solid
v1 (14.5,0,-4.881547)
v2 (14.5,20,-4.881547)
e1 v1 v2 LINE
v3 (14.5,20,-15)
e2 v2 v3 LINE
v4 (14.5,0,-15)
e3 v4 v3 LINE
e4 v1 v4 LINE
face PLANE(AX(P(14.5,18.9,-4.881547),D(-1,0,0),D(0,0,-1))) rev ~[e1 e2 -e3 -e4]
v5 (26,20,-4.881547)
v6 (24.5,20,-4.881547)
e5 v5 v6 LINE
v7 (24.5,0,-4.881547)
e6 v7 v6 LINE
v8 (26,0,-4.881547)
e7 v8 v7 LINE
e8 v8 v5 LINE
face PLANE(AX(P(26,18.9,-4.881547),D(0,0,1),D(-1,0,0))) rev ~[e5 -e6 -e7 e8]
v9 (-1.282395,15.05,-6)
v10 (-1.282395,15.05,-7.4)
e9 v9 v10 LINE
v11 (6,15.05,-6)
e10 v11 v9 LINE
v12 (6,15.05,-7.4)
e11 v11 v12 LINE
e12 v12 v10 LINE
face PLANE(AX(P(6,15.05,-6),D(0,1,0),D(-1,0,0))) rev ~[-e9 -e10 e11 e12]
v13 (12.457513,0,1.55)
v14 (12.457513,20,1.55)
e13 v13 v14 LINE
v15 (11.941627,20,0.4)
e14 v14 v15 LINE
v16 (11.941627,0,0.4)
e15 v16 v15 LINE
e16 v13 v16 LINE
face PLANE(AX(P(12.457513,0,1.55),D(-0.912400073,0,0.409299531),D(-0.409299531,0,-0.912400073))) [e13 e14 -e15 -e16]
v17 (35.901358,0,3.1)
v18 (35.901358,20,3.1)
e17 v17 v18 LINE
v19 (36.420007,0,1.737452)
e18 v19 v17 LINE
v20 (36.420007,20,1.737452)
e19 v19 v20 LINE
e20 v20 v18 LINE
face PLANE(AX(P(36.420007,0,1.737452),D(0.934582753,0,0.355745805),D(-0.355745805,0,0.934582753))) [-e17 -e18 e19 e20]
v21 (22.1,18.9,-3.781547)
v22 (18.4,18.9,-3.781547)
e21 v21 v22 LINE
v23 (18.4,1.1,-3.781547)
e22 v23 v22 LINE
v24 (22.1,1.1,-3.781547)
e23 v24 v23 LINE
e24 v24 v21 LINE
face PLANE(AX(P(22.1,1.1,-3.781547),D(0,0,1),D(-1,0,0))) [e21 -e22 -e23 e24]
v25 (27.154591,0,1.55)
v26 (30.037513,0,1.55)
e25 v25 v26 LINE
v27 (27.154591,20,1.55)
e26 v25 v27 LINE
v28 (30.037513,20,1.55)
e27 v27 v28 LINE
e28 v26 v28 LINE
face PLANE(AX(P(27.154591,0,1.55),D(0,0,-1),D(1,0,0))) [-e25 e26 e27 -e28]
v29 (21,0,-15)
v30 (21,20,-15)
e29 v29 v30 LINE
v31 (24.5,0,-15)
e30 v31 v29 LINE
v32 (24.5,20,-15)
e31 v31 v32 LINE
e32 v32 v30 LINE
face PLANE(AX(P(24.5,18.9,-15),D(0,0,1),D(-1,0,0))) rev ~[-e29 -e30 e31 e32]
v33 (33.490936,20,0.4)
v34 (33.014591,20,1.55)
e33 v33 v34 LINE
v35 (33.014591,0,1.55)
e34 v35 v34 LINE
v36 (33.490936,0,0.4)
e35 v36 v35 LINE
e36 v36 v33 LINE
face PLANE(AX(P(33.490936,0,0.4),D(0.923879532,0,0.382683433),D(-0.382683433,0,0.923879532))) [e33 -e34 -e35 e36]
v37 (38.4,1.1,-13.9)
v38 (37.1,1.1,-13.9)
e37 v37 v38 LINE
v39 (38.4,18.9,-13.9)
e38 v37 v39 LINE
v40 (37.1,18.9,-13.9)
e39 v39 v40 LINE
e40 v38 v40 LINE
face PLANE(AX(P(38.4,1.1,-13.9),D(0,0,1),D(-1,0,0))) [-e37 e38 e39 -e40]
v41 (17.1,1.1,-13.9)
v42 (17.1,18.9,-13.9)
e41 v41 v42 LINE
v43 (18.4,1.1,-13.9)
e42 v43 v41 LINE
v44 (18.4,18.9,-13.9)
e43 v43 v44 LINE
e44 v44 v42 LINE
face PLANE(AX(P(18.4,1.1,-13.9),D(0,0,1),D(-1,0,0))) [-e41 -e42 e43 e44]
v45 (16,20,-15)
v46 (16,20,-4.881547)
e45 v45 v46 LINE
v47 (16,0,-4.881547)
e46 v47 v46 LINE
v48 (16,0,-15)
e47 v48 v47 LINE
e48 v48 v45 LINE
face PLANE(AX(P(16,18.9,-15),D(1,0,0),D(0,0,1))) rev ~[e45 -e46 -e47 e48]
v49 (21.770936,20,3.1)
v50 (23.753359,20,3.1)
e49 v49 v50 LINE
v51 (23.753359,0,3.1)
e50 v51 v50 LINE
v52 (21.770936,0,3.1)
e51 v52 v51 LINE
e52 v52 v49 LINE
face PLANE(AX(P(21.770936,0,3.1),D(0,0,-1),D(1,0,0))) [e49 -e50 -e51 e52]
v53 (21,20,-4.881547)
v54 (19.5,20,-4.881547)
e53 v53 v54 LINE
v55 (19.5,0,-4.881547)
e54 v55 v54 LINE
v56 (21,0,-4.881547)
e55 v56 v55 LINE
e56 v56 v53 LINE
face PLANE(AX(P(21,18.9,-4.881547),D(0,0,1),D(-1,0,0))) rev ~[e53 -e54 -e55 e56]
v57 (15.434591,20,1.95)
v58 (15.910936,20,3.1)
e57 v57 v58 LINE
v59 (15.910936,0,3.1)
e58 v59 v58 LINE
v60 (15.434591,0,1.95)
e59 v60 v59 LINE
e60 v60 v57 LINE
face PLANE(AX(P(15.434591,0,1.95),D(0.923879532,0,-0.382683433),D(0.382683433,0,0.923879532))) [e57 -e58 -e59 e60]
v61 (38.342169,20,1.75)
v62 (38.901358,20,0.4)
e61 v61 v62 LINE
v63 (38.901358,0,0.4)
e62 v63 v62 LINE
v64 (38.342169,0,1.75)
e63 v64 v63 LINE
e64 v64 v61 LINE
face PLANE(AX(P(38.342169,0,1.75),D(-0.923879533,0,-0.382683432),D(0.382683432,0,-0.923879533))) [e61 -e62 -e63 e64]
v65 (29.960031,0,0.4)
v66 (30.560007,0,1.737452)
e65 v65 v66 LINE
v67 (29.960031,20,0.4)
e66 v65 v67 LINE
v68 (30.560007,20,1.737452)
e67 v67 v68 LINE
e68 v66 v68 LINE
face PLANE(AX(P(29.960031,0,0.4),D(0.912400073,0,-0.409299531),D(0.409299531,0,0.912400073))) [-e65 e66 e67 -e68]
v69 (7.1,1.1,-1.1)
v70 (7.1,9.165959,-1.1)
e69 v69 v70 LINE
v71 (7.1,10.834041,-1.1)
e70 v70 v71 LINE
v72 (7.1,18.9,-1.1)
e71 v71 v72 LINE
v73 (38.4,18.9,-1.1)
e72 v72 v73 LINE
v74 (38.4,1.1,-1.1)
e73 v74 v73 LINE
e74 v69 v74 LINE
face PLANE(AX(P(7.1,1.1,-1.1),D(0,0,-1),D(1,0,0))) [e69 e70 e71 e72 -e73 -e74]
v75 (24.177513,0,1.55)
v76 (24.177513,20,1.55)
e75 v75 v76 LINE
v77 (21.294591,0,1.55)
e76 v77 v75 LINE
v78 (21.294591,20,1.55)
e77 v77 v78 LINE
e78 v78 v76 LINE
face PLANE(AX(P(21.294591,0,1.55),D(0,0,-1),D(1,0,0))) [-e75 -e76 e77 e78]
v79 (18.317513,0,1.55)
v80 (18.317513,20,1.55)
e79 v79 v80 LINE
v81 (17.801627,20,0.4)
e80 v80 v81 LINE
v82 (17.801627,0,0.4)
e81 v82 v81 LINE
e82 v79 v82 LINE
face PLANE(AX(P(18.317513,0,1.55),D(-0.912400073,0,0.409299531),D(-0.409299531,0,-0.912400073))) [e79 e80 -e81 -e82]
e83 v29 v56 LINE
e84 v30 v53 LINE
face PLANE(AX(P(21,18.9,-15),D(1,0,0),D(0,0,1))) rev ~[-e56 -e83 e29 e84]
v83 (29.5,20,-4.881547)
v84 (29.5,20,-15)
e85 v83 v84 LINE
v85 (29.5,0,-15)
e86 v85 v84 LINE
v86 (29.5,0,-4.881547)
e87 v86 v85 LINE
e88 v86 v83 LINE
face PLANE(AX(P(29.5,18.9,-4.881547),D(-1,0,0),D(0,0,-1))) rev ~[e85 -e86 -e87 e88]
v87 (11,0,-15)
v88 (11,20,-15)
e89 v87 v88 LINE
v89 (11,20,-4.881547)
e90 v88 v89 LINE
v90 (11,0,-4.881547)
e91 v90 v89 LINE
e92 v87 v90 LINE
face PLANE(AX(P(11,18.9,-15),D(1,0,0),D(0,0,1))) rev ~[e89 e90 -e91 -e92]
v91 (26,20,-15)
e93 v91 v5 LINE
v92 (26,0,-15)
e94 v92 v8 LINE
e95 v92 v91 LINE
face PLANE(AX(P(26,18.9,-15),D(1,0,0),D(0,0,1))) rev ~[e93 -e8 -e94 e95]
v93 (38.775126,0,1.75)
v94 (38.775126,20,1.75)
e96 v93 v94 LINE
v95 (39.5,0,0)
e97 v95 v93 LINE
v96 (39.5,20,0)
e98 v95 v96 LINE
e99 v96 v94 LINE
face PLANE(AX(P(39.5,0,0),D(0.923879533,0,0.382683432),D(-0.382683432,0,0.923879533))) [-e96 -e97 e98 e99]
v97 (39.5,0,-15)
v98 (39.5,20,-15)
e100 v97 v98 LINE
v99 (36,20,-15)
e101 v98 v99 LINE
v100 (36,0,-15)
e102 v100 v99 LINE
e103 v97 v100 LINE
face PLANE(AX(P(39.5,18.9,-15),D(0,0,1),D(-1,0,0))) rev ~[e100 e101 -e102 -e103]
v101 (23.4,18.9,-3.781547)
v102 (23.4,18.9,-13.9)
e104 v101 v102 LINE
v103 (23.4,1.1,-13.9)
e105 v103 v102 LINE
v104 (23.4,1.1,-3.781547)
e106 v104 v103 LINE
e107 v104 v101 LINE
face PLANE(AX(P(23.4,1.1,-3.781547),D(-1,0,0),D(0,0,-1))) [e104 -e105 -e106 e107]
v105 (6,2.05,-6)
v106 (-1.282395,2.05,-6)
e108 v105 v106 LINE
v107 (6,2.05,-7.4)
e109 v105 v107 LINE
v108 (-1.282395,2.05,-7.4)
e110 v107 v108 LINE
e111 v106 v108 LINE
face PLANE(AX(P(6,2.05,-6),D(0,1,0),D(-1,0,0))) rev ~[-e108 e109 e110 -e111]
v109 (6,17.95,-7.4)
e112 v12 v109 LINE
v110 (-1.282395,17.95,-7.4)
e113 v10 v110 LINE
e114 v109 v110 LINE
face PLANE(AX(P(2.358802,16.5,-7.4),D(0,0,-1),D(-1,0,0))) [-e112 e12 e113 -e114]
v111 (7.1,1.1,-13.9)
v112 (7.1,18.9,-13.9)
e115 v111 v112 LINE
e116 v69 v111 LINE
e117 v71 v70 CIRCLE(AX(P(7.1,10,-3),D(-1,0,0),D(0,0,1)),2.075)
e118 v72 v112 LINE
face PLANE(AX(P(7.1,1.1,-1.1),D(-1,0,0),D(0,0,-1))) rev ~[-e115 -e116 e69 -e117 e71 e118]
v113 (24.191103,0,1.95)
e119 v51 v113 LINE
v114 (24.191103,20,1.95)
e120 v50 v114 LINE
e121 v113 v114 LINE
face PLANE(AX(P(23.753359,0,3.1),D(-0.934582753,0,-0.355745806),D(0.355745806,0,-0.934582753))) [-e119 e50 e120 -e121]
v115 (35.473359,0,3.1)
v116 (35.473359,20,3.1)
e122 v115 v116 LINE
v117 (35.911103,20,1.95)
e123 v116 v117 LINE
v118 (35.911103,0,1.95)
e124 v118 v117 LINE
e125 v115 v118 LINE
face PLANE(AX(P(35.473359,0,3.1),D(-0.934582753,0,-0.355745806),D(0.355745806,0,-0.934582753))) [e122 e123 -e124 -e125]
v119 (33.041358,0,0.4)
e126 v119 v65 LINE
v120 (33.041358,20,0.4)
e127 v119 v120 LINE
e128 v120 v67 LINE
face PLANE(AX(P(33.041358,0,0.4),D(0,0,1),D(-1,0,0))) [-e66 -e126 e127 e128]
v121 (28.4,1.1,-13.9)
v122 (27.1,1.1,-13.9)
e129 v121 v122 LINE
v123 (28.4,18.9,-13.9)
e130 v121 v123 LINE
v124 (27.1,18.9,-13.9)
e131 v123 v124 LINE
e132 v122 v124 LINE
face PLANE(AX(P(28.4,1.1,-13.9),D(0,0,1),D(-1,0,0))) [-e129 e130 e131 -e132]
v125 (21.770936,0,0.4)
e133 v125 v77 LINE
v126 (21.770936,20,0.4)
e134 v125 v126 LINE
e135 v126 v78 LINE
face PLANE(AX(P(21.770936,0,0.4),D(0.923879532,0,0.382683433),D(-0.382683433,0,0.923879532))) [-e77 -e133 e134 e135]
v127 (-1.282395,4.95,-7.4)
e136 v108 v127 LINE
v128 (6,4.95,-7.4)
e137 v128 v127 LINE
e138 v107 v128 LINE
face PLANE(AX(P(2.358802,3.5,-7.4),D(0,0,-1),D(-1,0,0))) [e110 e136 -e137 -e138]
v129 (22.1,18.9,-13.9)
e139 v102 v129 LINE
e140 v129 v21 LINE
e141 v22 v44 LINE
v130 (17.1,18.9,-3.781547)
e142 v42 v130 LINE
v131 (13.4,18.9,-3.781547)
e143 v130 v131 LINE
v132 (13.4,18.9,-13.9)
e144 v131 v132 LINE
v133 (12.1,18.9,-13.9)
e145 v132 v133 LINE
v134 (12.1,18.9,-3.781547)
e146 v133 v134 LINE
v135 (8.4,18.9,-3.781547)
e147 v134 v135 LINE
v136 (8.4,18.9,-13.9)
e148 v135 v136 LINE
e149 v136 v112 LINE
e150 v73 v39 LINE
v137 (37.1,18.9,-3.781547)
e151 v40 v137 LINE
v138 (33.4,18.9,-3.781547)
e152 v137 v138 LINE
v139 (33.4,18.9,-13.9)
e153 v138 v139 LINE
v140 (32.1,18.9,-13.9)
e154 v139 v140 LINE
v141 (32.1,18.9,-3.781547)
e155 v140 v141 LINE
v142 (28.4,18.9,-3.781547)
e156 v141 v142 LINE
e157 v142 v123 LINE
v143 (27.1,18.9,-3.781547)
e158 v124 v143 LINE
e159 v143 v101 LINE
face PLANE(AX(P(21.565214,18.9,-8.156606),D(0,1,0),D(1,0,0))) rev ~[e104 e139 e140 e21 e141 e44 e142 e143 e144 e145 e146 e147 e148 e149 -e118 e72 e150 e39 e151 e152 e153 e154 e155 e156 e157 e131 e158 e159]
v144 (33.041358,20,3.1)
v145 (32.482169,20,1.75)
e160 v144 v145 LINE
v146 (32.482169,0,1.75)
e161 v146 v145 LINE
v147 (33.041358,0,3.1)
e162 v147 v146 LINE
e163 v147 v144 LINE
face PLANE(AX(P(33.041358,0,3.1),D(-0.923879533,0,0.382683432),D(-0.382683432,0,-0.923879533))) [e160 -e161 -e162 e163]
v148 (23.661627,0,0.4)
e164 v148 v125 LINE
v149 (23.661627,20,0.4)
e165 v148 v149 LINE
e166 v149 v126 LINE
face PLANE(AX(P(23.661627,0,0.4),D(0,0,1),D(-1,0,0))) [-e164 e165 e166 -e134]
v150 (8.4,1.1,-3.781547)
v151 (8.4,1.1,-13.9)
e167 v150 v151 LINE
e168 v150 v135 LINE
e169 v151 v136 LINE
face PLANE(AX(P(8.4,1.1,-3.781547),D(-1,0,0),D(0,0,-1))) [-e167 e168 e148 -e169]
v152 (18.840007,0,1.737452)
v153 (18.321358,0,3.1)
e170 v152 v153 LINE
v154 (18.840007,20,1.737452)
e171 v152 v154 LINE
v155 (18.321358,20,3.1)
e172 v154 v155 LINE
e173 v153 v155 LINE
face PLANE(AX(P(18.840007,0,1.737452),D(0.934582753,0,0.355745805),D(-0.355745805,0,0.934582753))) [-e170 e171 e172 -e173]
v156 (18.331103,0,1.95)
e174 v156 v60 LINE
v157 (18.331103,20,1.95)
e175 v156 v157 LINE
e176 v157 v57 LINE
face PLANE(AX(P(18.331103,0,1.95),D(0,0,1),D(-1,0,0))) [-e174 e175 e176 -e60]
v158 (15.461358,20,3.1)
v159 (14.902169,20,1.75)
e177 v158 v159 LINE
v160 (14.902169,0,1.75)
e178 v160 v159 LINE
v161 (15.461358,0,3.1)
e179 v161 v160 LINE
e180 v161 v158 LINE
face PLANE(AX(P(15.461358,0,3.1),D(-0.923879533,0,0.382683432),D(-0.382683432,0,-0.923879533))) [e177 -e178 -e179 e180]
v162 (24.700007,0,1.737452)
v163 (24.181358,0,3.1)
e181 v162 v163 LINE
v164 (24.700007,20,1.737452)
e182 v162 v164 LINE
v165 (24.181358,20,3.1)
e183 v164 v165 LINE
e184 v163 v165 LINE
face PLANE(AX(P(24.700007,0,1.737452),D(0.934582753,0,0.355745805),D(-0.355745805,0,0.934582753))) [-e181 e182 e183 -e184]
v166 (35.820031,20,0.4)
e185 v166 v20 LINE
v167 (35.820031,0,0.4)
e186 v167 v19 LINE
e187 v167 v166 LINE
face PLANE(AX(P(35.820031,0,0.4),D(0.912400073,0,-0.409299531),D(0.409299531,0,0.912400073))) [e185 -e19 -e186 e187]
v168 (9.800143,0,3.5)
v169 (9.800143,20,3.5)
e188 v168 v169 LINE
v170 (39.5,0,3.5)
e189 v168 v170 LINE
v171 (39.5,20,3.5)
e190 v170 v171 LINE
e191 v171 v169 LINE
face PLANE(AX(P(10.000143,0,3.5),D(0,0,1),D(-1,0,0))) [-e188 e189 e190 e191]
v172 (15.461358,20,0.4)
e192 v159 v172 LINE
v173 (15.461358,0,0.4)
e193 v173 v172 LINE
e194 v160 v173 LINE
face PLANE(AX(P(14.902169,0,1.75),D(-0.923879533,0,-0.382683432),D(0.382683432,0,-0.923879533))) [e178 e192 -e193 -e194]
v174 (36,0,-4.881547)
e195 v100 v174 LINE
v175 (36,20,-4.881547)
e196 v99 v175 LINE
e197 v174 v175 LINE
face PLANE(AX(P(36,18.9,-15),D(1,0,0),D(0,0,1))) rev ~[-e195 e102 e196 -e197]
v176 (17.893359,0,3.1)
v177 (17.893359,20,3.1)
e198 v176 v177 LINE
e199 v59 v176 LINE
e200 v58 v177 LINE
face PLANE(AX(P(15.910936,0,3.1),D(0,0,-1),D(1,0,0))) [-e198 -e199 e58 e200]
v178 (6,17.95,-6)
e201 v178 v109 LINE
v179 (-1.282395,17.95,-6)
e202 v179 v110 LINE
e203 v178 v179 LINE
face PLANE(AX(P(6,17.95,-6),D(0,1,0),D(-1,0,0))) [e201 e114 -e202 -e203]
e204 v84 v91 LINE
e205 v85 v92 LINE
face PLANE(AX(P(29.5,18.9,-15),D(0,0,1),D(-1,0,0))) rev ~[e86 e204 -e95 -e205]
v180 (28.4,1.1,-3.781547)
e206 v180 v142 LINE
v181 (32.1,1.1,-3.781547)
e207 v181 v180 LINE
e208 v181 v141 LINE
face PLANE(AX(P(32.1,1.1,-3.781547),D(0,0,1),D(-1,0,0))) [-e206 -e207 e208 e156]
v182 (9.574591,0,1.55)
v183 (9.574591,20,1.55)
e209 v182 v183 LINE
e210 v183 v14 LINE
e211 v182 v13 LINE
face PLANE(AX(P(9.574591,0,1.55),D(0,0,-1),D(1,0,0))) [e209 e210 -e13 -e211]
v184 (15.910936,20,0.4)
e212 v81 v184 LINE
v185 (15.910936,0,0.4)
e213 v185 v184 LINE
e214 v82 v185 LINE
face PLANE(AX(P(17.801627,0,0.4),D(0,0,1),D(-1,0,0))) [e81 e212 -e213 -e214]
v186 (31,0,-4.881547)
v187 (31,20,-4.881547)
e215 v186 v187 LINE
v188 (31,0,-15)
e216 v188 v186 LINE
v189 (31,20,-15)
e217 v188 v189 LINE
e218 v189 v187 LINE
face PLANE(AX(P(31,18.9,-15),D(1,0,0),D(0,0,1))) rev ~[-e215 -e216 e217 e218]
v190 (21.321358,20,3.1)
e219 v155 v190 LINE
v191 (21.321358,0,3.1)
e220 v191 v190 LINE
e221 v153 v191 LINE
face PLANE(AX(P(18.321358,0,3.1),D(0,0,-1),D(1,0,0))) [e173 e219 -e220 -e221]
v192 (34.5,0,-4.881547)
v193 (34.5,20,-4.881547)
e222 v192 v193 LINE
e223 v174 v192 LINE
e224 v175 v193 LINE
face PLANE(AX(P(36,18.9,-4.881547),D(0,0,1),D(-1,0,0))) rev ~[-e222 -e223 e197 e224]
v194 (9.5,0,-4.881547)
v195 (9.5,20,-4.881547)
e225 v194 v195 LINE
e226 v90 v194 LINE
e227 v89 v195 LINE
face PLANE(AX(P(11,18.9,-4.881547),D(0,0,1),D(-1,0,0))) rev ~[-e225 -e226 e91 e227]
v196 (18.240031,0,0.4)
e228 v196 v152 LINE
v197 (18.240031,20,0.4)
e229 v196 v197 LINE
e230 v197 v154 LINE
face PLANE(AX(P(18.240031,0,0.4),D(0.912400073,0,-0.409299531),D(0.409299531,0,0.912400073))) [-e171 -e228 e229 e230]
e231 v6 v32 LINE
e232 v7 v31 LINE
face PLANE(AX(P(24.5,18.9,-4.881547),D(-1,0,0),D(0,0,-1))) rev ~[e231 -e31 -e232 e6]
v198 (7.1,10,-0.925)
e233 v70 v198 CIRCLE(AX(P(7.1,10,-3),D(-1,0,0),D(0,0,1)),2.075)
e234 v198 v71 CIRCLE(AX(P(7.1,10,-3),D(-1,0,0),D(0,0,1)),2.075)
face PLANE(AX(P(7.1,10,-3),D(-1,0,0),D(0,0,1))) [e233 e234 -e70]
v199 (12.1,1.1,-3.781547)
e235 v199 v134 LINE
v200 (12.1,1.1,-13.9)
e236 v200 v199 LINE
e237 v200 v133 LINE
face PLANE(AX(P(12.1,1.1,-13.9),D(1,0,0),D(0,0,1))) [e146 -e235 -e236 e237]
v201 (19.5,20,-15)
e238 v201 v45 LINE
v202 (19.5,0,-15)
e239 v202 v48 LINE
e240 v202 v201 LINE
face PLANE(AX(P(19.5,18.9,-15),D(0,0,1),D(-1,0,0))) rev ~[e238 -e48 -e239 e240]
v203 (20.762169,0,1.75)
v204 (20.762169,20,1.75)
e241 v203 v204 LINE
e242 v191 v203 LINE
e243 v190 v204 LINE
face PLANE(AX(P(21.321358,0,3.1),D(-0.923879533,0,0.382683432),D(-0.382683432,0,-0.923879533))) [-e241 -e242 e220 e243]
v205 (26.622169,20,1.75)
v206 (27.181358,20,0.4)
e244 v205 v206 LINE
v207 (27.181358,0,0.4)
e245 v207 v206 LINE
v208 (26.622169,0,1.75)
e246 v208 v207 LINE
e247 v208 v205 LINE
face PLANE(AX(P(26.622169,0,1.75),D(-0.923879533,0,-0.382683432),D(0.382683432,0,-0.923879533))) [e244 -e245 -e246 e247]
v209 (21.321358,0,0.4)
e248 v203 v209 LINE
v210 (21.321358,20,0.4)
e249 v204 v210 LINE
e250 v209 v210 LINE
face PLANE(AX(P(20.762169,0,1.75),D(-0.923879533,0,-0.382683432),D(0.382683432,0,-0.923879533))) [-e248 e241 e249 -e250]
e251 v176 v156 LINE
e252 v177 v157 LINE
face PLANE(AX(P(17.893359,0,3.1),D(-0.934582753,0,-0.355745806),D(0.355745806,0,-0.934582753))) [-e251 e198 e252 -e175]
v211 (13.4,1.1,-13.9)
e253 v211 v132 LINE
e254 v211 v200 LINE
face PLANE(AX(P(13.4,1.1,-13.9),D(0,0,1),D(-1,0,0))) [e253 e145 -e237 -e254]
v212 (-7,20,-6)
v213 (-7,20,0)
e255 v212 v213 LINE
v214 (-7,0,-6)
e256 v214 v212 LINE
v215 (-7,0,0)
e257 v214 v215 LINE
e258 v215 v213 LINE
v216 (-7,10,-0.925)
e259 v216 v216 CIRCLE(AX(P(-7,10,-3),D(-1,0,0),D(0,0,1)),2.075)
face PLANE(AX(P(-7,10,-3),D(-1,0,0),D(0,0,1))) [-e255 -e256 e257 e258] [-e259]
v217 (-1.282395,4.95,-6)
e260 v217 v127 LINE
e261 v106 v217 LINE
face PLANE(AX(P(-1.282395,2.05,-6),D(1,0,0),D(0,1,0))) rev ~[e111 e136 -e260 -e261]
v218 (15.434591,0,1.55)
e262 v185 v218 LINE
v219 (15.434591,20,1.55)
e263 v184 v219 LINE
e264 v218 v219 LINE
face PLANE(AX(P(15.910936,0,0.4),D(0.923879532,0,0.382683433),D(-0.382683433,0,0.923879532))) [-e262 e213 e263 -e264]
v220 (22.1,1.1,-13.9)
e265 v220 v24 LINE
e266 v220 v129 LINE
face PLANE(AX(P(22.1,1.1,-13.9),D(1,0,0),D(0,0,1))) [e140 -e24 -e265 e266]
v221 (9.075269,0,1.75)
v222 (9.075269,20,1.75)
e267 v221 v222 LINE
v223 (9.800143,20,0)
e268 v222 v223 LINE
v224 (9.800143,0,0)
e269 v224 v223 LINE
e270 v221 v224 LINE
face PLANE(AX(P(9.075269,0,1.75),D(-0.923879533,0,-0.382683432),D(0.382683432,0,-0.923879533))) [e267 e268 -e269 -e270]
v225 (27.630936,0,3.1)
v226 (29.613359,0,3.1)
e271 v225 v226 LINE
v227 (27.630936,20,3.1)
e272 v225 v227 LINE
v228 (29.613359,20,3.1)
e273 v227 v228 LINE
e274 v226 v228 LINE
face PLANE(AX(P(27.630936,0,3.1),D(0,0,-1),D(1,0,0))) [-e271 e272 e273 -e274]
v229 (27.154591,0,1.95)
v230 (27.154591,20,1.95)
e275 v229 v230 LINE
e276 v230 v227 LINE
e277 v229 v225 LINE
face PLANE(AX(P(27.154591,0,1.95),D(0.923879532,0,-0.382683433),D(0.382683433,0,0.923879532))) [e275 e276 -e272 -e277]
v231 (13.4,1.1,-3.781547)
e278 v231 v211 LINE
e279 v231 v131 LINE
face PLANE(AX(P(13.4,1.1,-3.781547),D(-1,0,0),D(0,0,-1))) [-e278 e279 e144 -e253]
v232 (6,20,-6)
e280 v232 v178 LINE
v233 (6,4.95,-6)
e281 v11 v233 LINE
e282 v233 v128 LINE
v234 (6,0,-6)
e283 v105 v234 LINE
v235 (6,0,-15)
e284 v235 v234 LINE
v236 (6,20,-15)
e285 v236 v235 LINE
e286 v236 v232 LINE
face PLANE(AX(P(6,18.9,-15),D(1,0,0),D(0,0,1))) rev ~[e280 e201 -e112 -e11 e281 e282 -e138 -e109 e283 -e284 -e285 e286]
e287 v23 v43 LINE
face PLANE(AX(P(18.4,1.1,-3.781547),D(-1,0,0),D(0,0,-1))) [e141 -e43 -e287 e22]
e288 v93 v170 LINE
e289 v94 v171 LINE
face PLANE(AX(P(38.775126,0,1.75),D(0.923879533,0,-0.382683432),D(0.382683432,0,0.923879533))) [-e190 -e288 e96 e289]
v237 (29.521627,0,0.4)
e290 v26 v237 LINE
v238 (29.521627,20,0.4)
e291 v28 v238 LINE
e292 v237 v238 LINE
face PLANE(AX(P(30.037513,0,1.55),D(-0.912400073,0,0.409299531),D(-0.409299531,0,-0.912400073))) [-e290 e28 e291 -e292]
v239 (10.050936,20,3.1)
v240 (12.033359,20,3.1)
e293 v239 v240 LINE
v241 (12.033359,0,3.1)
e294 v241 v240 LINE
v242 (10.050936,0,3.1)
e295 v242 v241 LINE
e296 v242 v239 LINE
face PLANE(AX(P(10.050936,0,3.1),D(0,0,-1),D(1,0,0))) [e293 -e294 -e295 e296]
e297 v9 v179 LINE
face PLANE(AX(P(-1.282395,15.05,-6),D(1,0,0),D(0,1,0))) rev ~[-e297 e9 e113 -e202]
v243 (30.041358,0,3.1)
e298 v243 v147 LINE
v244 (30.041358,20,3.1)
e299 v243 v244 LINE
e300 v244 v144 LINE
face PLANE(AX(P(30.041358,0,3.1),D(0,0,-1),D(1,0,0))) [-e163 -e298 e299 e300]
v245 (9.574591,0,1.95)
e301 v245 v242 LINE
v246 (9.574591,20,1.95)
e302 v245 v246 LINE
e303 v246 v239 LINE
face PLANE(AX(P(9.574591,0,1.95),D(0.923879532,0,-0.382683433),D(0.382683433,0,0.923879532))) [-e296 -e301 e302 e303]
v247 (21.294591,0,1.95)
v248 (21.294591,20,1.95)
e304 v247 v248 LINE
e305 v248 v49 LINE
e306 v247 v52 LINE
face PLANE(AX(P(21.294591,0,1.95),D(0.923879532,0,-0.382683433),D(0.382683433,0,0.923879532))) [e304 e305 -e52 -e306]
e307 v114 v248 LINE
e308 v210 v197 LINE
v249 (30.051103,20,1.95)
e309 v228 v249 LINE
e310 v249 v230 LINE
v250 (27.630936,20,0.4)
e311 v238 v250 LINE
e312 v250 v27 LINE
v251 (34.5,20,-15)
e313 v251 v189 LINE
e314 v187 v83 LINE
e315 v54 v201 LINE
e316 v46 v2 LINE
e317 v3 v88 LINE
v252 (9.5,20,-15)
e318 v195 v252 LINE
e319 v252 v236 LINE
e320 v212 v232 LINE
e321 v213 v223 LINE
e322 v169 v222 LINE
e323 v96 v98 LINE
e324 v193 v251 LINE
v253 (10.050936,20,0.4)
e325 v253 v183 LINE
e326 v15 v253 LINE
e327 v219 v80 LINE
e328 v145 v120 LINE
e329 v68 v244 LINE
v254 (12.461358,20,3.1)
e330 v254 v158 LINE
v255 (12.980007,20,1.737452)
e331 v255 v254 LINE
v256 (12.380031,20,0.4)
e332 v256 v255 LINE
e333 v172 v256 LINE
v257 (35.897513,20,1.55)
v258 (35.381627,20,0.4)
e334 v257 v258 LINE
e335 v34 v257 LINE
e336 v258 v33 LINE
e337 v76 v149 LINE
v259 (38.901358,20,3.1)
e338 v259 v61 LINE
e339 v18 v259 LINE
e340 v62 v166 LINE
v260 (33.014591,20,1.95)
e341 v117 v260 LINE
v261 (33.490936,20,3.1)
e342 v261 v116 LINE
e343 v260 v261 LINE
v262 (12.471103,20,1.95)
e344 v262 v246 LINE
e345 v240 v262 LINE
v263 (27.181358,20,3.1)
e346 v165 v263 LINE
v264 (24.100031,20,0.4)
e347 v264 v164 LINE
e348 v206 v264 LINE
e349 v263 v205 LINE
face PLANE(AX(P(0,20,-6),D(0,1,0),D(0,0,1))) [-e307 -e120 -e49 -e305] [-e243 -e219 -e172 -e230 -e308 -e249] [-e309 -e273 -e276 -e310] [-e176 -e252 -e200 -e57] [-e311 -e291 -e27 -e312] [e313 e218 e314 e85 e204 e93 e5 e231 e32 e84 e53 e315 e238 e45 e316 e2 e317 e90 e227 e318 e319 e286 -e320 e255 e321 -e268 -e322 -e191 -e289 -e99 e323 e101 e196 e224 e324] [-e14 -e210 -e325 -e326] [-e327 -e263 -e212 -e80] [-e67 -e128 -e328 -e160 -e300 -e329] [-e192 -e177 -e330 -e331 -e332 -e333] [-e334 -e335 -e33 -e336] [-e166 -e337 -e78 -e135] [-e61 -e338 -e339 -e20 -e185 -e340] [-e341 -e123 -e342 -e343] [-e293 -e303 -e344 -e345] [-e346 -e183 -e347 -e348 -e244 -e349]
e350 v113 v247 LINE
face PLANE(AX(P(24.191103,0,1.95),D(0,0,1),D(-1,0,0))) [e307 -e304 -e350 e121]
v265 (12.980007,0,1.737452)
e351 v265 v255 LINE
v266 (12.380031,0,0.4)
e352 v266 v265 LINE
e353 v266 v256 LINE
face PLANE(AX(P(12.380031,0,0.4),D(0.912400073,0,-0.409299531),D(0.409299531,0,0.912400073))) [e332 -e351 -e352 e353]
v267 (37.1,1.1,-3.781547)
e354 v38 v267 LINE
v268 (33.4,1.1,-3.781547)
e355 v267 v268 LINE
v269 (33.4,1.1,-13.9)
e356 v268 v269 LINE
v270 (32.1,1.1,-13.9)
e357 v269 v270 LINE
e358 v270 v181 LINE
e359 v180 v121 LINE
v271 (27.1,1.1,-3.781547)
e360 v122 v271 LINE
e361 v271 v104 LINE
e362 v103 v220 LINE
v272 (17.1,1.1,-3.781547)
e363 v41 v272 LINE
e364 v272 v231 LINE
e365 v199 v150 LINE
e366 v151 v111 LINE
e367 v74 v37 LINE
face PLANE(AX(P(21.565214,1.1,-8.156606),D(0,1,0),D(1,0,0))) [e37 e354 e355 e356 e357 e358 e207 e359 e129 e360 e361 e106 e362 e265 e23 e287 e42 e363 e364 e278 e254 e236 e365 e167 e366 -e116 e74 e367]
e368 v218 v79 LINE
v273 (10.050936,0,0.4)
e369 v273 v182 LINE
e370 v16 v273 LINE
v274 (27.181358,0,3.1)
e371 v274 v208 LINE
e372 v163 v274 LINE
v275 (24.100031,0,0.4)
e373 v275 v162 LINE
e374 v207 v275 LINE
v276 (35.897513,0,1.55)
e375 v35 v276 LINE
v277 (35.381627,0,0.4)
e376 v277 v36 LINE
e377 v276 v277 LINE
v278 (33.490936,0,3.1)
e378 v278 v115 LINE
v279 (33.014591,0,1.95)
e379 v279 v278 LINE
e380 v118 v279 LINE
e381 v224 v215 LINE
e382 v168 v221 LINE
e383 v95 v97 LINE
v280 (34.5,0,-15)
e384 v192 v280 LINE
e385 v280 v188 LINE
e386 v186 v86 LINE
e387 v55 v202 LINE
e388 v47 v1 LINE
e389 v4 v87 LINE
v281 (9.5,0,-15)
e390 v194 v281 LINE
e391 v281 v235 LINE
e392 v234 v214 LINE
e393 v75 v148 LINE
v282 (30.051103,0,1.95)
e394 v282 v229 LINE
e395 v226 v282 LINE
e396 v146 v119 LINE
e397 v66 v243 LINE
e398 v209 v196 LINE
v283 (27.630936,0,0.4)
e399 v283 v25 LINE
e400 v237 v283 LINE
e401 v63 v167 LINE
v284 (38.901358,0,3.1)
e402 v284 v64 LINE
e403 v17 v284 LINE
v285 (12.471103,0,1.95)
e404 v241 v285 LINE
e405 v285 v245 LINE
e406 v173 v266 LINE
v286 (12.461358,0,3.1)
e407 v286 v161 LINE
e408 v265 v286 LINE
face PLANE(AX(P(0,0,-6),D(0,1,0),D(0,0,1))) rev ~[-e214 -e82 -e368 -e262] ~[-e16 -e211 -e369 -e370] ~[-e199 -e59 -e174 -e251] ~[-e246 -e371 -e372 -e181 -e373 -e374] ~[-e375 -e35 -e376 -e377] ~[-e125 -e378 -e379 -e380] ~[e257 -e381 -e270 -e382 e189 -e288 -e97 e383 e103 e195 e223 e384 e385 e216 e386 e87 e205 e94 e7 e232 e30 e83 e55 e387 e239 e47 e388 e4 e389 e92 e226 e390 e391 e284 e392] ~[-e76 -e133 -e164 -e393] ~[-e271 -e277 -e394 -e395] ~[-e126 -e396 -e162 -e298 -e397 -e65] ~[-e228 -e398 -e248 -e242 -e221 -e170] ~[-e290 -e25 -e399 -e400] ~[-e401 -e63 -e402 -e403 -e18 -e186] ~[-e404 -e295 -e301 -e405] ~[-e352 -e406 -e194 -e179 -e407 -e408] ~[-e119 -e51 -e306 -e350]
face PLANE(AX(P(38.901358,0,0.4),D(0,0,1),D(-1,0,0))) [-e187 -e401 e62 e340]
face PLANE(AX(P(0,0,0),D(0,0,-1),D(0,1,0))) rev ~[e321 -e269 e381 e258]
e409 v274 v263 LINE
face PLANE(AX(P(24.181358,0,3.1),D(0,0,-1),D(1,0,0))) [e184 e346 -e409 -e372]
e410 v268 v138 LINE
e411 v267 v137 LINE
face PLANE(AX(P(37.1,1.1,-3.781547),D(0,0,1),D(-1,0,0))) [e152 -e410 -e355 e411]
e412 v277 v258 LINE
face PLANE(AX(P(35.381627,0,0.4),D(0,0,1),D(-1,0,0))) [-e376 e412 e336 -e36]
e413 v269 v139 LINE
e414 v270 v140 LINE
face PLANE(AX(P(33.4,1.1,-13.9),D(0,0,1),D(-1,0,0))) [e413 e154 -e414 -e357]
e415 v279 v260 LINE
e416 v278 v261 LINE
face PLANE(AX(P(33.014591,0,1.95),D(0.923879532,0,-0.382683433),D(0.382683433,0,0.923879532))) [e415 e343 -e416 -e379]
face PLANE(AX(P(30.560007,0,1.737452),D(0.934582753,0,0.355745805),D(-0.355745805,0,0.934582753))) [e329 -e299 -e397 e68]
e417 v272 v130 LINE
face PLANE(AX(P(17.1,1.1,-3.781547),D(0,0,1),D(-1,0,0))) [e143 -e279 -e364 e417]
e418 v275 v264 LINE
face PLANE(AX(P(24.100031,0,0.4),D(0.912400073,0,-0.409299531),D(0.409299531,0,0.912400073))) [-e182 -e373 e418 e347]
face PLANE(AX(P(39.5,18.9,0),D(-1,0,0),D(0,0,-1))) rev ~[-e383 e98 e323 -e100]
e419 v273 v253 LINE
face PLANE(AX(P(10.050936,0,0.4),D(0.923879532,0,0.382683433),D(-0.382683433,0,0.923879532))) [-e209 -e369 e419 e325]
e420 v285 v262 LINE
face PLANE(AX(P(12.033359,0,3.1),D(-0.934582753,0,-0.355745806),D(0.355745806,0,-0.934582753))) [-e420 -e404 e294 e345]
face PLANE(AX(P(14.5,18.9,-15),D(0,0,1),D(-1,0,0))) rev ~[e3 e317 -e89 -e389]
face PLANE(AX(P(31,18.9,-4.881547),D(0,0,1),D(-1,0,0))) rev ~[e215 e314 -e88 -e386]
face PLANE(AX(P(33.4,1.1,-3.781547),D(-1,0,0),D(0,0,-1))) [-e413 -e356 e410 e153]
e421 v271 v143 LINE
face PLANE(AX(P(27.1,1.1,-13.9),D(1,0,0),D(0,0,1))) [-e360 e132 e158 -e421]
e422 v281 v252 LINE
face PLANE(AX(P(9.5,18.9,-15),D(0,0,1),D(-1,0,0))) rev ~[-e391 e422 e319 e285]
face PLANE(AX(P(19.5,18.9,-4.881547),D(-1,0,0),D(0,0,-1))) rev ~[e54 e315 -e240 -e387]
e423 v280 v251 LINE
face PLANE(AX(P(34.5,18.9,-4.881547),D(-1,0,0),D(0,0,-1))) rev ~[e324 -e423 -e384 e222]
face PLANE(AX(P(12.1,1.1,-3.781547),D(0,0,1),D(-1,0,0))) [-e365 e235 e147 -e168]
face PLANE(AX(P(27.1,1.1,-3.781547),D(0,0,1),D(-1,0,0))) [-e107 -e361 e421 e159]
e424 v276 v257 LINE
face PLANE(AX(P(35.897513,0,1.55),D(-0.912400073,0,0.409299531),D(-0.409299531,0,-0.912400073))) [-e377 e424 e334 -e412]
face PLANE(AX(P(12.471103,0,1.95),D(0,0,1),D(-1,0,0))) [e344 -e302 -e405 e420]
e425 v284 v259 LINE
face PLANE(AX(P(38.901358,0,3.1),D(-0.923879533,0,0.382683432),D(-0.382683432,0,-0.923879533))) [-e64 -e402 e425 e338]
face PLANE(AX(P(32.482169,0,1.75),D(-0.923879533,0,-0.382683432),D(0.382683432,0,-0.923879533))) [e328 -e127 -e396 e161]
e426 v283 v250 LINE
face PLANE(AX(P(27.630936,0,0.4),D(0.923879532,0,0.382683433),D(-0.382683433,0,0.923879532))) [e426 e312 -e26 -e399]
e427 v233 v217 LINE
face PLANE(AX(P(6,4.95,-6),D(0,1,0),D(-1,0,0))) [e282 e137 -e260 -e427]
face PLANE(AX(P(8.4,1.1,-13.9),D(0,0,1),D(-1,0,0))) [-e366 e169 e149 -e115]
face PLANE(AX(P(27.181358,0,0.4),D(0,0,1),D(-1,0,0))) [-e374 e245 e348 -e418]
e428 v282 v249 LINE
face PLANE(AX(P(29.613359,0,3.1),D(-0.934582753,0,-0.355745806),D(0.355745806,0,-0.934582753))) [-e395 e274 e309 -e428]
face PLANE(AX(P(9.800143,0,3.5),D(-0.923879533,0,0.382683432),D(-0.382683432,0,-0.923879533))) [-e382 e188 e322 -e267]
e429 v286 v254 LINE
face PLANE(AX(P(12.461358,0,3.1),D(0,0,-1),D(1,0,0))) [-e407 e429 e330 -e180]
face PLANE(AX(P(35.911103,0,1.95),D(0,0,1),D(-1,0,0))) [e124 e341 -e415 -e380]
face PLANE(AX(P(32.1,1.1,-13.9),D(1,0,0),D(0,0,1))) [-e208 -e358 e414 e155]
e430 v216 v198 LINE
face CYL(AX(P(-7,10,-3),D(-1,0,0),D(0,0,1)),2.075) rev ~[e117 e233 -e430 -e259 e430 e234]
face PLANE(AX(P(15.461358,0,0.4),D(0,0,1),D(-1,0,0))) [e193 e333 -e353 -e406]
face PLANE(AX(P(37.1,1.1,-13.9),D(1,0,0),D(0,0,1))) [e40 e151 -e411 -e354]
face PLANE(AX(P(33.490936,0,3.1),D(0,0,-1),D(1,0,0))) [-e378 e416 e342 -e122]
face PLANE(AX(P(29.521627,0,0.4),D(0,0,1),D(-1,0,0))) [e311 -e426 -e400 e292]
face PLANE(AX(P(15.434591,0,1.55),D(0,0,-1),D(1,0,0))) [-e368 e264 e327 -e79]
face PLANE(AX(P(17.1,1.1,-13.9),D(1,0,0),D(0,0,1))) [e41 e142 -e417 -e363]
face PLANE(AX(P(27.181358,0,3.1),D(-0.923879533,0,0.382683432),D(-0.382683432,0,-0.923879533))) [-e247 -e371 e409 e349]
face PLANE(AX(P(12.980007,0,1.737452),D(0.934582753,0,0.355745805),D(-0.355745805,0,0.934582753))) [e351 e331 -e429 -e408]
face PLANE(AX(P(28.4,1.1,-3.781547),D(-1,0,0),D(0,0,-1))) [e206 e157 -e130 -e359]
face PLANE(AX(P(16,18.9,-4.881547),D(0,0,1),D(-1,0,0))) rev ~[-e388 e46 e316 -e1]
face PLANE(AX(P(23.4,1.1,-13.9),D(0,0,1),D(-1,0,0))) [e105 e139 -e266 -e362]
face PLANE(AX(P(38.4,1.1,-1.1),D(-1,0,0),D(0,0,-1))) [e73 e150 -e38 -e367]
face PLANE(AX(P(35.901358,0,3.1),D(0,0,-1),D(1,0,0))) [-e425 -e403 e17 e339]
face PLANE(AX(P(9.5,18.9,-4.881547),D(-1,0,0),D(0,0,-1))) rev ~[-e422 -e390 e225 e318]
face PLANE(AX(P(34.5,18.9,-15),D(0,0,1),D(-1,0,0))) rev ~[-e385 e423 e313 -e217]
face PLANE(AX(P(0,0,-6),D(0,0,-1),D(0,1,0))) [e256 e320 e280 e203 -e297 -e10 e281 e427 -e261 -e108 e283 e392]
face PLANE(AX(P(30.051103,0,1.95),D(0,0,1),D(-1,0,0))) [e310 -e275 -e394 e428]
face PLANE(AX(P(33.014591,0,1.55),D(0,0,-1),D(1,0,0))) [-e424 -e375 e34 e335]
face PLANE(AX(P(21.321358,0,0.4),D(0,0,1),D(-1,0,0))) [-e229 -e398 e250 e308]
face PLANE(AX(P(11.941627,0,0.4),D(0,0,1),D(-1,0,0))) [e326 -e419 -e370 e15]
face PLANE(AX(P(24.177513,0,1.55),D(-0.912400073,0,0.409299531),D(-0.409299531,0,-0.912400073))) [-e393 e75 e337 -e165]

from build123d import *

# Parameters (mm, degrees)
BOSS_EXTRUDE1_DEPTH = 1.1
BOSS_EXTRUDE2_DEPTH = 17.8
BOSS_EXTRUDE3_DEPTH = 1.1
BOSS_EXTRUDE4_DEPTH = 20
LPATTERN1_COUNT     = 5
LPATTERN1_PITCH     = 5.86
BOSS_EXTRUDE5_DEPTH = 20
SKETCH7_W           = 6
SKETCH7_H           = 20
BOSS_EXTRUDE6_DEPTH = 7
SKETCH8_R           = 2.075
CUT_EXTRUDE1_DEPTH  = 14.1
SKETCH9_W           = 7.282395113
SKETCH9_H           = 2.9
BOSS_EXTRUDE7_DEPTH = 1.4


with BuildPart() as part:
    # Sketch2 → Boss-Extrude1 (new body)
    with BuildSketch(Plane(origin=(0, 0, 0), x_dir=(1, 0, 0), z_dir=(0, 1, 0))):
        Polygon((36, 15), (36, 4.881546635), (34.5, 4.881546635), (34.5, 15), (31, 15), (31, 4.881546635), (29.5, 4.881546635), (29.5, 15), (26, 15), (26, 4.881546635), (24.5, 4.881546635), (24.5, 15), (21, 15), (21, 4.881546635), (19.5, 4.881546635), (19.5, 15), (16, 15), (16, 4.881546635), (14.5, 4.881546635), (14.5, 15), (11, 15), (11, 4.881546635), (9.5, 4.881546635), (9.5, 15), (6, 15), (6, 6), (4.5, 6), (0, 6), (0, 0), (39.5, 0), (39.5, 15), align=None)
    extrude(amount=BOSS_EXTRUDE1_DEPTH)

    # Sketch3 → Boss-Extrude2 (add)
    with BuildSketch(Plane(origin=(0, 1.1, 0), x_dir=(1, 0, 0), z_dir=(0, 1, 0))):
        Polygon((6, 6), (0, 6), (0, 0), (39.5, 0), (39.5, 15), (36, 15), (36, 4.881546635), (34.5, 4.881546635), (34.5, 15), (31, 15), (31, 4.881546635), (29.5, 4.881546635), (29.5, 15), (26, 15), (26, 4.881546635), (24.5, 4.881546635), (24.5, 15), (21, 15), (21, 4.881546635), (19.5, 4.881546635), (19.5, 15), (16, 15), (16, 4.881546635), (14.5, 4.881546635), (14.5, 15), (11, 15), (11, 4.881546635), (9.5, 4.881546635), (9.5, 15), (6, 15), align=None)
        Polygon((7.1, 4.9), (7.1, 1.1), (38.4, 1.1), (38.4, 13.9), (37.1, 13.9), (37.1, 3.781546635), (33.4, 3.781546635), (33.4, 13.9), (32.1, 13.9), (32.1, 3.781546635), (28.4, 3.781546635), (28.4, 13.9), (27.1, 13.9), (27.1, 3.781546635), (23.4, 3.781546635), (23.4, 13.9), (22.1, 13.9), (22.1, 3.781546635), (18.4, 3.781546635), (18.4, 13.9), (17.1, 13.9), (17.1, 3.781546635), (13.4, 3.781546635), (13.4, 13.9), (12.1, 13.9), (12.1, 3.781546635), (8.4, 3.781546635), (8.4, 13.9), (7.1, 13.9), align=None, mode=Mode.SUBTRACT)
    extrude(amount=BOSS_EXTRUDE2_DEPTH)

    # Sketch4 → Boss-Extrude3 (add)
    with BuildSketch(Plane(origin=(0, 18.9, 0), x_dir=(1, 0, 0), z_dir=(0, 1, 0))):
        Polygon((0, 6), (0, 0), (39.5, 0), (39.5, 15), (36, 15), (36, 4.881546635), (34.5, 4.881546635), (34.5, 15), (31, 15), (31, 4.881546635), (29.5, 4.881546635), (29.5, 15), (26, 15), (26, 4.881546635), (24.5, 4.881546635), (24.5, 15), (21, 15), (21, 4.881546635), (19.5, 4.881546635), (19.5, 15), (16, 15), (16, 4.881546635), (14.5, 4.881546635), (14.5, 15), (11, 15), (11, 4.881546635), (9.5, 4.881546635), (9.5, 15), (6, 15), (6, 6), align=None)
    extrude(amount=BOSS_EXTRUDE3_DEPTH)

    # Sketch5 → Boss-Extrude4 (add)
    with BuildSketch(Plane.XZ):
        Polygon((33.440143193, 0), (39.5, 0), (38.775126266, 1.75), (39.5, 3.5), (33.440143193, 3.5), (32.715269459, 1.75), align=None)
        Polygon((33.014590612, 1.55), (35.897512895, 1.55), (35.381626855, 0.4), (34.816385288, 0.4), (33.490936209, 0.4), align=None, mode=Mode.SUBTRACT)
        Polygon((34.74142697, 3.1), (35.473359212, 3.1), (35.911102874, 1.95), (33.014590612, 1.95), (33.490936209, 3.1), align=None, mode=Mode.SUBTRACT)
        Polygon((35.820031028, 0.4), (36.420007202, 1.737451581), (35.901357695, 3.1), (38.901357695, 3.1), (38.342169386, 1.75), (38.901357695, 0.4), align=None, mode=Mode.SUBTRACT)
    boss_extrude4 = extrude(amount=-BOSS_EXTRUDE4_DEPTH)

    # LPattern1: Boss-Extrude4 ×5
    with Locations(*[(-i * LPATTERN1_PITCH, 0, 0) for i in range(1, LPATTERN1_COUNT)]):
        add(boss_extrude4)

    # Sketch6 → Boss-Extrude5 (add)
    with BuildSketch(Plane.XZ):
        Polygon((10.000143193, 3.5), (9.800143193, 3.5), (9.075269459, 1.75), (9.800143193, 0), (10.000143193, 0), (9.275269459, 1.75), align=None)
    extrude(amount=-BOSS_EXTRUDE5_DEPTH)

    # Sketch7 → Boss-Extrude6 (add)
    with BuildSketch(Plane.ZY):
        with Locations((-3, 10)):
            Rectangle(SKETCH7_W, SKETCH7_H)
    extrude(amount=BOSS_EXTRUDE6_DEPTH)

    # Sketch8 → Cut-Extrude1 (cut)
    with BuildSketch(Plane.ZY.offset(7)):
        with Locations((-3, 10)):
            Circle(SKETCH8_R)
    extrude(amount=-CUT_EXTRUDE1_DEPTH, mode=Mode.SUBTRACT)

    # Sketch9 → Boss-Extrude7 (add)
    with BuildSketch(Plane(origin=(0, 0, -6), x_dir=(-1, 0, 0), z_dir=(0, 0, -1))):
        with Locations((-2.358802444, 3.5)):
            Rectangle(SKETCH9_W, SKETCH9_H)
        with Locations((-2.358802444, 16.5)):
            Rectangle(SKETCH9_W, SKETCH9_H)
    extrude(amount=BOSS_EXTRUDE7_DEPTH)


solid = part.part
